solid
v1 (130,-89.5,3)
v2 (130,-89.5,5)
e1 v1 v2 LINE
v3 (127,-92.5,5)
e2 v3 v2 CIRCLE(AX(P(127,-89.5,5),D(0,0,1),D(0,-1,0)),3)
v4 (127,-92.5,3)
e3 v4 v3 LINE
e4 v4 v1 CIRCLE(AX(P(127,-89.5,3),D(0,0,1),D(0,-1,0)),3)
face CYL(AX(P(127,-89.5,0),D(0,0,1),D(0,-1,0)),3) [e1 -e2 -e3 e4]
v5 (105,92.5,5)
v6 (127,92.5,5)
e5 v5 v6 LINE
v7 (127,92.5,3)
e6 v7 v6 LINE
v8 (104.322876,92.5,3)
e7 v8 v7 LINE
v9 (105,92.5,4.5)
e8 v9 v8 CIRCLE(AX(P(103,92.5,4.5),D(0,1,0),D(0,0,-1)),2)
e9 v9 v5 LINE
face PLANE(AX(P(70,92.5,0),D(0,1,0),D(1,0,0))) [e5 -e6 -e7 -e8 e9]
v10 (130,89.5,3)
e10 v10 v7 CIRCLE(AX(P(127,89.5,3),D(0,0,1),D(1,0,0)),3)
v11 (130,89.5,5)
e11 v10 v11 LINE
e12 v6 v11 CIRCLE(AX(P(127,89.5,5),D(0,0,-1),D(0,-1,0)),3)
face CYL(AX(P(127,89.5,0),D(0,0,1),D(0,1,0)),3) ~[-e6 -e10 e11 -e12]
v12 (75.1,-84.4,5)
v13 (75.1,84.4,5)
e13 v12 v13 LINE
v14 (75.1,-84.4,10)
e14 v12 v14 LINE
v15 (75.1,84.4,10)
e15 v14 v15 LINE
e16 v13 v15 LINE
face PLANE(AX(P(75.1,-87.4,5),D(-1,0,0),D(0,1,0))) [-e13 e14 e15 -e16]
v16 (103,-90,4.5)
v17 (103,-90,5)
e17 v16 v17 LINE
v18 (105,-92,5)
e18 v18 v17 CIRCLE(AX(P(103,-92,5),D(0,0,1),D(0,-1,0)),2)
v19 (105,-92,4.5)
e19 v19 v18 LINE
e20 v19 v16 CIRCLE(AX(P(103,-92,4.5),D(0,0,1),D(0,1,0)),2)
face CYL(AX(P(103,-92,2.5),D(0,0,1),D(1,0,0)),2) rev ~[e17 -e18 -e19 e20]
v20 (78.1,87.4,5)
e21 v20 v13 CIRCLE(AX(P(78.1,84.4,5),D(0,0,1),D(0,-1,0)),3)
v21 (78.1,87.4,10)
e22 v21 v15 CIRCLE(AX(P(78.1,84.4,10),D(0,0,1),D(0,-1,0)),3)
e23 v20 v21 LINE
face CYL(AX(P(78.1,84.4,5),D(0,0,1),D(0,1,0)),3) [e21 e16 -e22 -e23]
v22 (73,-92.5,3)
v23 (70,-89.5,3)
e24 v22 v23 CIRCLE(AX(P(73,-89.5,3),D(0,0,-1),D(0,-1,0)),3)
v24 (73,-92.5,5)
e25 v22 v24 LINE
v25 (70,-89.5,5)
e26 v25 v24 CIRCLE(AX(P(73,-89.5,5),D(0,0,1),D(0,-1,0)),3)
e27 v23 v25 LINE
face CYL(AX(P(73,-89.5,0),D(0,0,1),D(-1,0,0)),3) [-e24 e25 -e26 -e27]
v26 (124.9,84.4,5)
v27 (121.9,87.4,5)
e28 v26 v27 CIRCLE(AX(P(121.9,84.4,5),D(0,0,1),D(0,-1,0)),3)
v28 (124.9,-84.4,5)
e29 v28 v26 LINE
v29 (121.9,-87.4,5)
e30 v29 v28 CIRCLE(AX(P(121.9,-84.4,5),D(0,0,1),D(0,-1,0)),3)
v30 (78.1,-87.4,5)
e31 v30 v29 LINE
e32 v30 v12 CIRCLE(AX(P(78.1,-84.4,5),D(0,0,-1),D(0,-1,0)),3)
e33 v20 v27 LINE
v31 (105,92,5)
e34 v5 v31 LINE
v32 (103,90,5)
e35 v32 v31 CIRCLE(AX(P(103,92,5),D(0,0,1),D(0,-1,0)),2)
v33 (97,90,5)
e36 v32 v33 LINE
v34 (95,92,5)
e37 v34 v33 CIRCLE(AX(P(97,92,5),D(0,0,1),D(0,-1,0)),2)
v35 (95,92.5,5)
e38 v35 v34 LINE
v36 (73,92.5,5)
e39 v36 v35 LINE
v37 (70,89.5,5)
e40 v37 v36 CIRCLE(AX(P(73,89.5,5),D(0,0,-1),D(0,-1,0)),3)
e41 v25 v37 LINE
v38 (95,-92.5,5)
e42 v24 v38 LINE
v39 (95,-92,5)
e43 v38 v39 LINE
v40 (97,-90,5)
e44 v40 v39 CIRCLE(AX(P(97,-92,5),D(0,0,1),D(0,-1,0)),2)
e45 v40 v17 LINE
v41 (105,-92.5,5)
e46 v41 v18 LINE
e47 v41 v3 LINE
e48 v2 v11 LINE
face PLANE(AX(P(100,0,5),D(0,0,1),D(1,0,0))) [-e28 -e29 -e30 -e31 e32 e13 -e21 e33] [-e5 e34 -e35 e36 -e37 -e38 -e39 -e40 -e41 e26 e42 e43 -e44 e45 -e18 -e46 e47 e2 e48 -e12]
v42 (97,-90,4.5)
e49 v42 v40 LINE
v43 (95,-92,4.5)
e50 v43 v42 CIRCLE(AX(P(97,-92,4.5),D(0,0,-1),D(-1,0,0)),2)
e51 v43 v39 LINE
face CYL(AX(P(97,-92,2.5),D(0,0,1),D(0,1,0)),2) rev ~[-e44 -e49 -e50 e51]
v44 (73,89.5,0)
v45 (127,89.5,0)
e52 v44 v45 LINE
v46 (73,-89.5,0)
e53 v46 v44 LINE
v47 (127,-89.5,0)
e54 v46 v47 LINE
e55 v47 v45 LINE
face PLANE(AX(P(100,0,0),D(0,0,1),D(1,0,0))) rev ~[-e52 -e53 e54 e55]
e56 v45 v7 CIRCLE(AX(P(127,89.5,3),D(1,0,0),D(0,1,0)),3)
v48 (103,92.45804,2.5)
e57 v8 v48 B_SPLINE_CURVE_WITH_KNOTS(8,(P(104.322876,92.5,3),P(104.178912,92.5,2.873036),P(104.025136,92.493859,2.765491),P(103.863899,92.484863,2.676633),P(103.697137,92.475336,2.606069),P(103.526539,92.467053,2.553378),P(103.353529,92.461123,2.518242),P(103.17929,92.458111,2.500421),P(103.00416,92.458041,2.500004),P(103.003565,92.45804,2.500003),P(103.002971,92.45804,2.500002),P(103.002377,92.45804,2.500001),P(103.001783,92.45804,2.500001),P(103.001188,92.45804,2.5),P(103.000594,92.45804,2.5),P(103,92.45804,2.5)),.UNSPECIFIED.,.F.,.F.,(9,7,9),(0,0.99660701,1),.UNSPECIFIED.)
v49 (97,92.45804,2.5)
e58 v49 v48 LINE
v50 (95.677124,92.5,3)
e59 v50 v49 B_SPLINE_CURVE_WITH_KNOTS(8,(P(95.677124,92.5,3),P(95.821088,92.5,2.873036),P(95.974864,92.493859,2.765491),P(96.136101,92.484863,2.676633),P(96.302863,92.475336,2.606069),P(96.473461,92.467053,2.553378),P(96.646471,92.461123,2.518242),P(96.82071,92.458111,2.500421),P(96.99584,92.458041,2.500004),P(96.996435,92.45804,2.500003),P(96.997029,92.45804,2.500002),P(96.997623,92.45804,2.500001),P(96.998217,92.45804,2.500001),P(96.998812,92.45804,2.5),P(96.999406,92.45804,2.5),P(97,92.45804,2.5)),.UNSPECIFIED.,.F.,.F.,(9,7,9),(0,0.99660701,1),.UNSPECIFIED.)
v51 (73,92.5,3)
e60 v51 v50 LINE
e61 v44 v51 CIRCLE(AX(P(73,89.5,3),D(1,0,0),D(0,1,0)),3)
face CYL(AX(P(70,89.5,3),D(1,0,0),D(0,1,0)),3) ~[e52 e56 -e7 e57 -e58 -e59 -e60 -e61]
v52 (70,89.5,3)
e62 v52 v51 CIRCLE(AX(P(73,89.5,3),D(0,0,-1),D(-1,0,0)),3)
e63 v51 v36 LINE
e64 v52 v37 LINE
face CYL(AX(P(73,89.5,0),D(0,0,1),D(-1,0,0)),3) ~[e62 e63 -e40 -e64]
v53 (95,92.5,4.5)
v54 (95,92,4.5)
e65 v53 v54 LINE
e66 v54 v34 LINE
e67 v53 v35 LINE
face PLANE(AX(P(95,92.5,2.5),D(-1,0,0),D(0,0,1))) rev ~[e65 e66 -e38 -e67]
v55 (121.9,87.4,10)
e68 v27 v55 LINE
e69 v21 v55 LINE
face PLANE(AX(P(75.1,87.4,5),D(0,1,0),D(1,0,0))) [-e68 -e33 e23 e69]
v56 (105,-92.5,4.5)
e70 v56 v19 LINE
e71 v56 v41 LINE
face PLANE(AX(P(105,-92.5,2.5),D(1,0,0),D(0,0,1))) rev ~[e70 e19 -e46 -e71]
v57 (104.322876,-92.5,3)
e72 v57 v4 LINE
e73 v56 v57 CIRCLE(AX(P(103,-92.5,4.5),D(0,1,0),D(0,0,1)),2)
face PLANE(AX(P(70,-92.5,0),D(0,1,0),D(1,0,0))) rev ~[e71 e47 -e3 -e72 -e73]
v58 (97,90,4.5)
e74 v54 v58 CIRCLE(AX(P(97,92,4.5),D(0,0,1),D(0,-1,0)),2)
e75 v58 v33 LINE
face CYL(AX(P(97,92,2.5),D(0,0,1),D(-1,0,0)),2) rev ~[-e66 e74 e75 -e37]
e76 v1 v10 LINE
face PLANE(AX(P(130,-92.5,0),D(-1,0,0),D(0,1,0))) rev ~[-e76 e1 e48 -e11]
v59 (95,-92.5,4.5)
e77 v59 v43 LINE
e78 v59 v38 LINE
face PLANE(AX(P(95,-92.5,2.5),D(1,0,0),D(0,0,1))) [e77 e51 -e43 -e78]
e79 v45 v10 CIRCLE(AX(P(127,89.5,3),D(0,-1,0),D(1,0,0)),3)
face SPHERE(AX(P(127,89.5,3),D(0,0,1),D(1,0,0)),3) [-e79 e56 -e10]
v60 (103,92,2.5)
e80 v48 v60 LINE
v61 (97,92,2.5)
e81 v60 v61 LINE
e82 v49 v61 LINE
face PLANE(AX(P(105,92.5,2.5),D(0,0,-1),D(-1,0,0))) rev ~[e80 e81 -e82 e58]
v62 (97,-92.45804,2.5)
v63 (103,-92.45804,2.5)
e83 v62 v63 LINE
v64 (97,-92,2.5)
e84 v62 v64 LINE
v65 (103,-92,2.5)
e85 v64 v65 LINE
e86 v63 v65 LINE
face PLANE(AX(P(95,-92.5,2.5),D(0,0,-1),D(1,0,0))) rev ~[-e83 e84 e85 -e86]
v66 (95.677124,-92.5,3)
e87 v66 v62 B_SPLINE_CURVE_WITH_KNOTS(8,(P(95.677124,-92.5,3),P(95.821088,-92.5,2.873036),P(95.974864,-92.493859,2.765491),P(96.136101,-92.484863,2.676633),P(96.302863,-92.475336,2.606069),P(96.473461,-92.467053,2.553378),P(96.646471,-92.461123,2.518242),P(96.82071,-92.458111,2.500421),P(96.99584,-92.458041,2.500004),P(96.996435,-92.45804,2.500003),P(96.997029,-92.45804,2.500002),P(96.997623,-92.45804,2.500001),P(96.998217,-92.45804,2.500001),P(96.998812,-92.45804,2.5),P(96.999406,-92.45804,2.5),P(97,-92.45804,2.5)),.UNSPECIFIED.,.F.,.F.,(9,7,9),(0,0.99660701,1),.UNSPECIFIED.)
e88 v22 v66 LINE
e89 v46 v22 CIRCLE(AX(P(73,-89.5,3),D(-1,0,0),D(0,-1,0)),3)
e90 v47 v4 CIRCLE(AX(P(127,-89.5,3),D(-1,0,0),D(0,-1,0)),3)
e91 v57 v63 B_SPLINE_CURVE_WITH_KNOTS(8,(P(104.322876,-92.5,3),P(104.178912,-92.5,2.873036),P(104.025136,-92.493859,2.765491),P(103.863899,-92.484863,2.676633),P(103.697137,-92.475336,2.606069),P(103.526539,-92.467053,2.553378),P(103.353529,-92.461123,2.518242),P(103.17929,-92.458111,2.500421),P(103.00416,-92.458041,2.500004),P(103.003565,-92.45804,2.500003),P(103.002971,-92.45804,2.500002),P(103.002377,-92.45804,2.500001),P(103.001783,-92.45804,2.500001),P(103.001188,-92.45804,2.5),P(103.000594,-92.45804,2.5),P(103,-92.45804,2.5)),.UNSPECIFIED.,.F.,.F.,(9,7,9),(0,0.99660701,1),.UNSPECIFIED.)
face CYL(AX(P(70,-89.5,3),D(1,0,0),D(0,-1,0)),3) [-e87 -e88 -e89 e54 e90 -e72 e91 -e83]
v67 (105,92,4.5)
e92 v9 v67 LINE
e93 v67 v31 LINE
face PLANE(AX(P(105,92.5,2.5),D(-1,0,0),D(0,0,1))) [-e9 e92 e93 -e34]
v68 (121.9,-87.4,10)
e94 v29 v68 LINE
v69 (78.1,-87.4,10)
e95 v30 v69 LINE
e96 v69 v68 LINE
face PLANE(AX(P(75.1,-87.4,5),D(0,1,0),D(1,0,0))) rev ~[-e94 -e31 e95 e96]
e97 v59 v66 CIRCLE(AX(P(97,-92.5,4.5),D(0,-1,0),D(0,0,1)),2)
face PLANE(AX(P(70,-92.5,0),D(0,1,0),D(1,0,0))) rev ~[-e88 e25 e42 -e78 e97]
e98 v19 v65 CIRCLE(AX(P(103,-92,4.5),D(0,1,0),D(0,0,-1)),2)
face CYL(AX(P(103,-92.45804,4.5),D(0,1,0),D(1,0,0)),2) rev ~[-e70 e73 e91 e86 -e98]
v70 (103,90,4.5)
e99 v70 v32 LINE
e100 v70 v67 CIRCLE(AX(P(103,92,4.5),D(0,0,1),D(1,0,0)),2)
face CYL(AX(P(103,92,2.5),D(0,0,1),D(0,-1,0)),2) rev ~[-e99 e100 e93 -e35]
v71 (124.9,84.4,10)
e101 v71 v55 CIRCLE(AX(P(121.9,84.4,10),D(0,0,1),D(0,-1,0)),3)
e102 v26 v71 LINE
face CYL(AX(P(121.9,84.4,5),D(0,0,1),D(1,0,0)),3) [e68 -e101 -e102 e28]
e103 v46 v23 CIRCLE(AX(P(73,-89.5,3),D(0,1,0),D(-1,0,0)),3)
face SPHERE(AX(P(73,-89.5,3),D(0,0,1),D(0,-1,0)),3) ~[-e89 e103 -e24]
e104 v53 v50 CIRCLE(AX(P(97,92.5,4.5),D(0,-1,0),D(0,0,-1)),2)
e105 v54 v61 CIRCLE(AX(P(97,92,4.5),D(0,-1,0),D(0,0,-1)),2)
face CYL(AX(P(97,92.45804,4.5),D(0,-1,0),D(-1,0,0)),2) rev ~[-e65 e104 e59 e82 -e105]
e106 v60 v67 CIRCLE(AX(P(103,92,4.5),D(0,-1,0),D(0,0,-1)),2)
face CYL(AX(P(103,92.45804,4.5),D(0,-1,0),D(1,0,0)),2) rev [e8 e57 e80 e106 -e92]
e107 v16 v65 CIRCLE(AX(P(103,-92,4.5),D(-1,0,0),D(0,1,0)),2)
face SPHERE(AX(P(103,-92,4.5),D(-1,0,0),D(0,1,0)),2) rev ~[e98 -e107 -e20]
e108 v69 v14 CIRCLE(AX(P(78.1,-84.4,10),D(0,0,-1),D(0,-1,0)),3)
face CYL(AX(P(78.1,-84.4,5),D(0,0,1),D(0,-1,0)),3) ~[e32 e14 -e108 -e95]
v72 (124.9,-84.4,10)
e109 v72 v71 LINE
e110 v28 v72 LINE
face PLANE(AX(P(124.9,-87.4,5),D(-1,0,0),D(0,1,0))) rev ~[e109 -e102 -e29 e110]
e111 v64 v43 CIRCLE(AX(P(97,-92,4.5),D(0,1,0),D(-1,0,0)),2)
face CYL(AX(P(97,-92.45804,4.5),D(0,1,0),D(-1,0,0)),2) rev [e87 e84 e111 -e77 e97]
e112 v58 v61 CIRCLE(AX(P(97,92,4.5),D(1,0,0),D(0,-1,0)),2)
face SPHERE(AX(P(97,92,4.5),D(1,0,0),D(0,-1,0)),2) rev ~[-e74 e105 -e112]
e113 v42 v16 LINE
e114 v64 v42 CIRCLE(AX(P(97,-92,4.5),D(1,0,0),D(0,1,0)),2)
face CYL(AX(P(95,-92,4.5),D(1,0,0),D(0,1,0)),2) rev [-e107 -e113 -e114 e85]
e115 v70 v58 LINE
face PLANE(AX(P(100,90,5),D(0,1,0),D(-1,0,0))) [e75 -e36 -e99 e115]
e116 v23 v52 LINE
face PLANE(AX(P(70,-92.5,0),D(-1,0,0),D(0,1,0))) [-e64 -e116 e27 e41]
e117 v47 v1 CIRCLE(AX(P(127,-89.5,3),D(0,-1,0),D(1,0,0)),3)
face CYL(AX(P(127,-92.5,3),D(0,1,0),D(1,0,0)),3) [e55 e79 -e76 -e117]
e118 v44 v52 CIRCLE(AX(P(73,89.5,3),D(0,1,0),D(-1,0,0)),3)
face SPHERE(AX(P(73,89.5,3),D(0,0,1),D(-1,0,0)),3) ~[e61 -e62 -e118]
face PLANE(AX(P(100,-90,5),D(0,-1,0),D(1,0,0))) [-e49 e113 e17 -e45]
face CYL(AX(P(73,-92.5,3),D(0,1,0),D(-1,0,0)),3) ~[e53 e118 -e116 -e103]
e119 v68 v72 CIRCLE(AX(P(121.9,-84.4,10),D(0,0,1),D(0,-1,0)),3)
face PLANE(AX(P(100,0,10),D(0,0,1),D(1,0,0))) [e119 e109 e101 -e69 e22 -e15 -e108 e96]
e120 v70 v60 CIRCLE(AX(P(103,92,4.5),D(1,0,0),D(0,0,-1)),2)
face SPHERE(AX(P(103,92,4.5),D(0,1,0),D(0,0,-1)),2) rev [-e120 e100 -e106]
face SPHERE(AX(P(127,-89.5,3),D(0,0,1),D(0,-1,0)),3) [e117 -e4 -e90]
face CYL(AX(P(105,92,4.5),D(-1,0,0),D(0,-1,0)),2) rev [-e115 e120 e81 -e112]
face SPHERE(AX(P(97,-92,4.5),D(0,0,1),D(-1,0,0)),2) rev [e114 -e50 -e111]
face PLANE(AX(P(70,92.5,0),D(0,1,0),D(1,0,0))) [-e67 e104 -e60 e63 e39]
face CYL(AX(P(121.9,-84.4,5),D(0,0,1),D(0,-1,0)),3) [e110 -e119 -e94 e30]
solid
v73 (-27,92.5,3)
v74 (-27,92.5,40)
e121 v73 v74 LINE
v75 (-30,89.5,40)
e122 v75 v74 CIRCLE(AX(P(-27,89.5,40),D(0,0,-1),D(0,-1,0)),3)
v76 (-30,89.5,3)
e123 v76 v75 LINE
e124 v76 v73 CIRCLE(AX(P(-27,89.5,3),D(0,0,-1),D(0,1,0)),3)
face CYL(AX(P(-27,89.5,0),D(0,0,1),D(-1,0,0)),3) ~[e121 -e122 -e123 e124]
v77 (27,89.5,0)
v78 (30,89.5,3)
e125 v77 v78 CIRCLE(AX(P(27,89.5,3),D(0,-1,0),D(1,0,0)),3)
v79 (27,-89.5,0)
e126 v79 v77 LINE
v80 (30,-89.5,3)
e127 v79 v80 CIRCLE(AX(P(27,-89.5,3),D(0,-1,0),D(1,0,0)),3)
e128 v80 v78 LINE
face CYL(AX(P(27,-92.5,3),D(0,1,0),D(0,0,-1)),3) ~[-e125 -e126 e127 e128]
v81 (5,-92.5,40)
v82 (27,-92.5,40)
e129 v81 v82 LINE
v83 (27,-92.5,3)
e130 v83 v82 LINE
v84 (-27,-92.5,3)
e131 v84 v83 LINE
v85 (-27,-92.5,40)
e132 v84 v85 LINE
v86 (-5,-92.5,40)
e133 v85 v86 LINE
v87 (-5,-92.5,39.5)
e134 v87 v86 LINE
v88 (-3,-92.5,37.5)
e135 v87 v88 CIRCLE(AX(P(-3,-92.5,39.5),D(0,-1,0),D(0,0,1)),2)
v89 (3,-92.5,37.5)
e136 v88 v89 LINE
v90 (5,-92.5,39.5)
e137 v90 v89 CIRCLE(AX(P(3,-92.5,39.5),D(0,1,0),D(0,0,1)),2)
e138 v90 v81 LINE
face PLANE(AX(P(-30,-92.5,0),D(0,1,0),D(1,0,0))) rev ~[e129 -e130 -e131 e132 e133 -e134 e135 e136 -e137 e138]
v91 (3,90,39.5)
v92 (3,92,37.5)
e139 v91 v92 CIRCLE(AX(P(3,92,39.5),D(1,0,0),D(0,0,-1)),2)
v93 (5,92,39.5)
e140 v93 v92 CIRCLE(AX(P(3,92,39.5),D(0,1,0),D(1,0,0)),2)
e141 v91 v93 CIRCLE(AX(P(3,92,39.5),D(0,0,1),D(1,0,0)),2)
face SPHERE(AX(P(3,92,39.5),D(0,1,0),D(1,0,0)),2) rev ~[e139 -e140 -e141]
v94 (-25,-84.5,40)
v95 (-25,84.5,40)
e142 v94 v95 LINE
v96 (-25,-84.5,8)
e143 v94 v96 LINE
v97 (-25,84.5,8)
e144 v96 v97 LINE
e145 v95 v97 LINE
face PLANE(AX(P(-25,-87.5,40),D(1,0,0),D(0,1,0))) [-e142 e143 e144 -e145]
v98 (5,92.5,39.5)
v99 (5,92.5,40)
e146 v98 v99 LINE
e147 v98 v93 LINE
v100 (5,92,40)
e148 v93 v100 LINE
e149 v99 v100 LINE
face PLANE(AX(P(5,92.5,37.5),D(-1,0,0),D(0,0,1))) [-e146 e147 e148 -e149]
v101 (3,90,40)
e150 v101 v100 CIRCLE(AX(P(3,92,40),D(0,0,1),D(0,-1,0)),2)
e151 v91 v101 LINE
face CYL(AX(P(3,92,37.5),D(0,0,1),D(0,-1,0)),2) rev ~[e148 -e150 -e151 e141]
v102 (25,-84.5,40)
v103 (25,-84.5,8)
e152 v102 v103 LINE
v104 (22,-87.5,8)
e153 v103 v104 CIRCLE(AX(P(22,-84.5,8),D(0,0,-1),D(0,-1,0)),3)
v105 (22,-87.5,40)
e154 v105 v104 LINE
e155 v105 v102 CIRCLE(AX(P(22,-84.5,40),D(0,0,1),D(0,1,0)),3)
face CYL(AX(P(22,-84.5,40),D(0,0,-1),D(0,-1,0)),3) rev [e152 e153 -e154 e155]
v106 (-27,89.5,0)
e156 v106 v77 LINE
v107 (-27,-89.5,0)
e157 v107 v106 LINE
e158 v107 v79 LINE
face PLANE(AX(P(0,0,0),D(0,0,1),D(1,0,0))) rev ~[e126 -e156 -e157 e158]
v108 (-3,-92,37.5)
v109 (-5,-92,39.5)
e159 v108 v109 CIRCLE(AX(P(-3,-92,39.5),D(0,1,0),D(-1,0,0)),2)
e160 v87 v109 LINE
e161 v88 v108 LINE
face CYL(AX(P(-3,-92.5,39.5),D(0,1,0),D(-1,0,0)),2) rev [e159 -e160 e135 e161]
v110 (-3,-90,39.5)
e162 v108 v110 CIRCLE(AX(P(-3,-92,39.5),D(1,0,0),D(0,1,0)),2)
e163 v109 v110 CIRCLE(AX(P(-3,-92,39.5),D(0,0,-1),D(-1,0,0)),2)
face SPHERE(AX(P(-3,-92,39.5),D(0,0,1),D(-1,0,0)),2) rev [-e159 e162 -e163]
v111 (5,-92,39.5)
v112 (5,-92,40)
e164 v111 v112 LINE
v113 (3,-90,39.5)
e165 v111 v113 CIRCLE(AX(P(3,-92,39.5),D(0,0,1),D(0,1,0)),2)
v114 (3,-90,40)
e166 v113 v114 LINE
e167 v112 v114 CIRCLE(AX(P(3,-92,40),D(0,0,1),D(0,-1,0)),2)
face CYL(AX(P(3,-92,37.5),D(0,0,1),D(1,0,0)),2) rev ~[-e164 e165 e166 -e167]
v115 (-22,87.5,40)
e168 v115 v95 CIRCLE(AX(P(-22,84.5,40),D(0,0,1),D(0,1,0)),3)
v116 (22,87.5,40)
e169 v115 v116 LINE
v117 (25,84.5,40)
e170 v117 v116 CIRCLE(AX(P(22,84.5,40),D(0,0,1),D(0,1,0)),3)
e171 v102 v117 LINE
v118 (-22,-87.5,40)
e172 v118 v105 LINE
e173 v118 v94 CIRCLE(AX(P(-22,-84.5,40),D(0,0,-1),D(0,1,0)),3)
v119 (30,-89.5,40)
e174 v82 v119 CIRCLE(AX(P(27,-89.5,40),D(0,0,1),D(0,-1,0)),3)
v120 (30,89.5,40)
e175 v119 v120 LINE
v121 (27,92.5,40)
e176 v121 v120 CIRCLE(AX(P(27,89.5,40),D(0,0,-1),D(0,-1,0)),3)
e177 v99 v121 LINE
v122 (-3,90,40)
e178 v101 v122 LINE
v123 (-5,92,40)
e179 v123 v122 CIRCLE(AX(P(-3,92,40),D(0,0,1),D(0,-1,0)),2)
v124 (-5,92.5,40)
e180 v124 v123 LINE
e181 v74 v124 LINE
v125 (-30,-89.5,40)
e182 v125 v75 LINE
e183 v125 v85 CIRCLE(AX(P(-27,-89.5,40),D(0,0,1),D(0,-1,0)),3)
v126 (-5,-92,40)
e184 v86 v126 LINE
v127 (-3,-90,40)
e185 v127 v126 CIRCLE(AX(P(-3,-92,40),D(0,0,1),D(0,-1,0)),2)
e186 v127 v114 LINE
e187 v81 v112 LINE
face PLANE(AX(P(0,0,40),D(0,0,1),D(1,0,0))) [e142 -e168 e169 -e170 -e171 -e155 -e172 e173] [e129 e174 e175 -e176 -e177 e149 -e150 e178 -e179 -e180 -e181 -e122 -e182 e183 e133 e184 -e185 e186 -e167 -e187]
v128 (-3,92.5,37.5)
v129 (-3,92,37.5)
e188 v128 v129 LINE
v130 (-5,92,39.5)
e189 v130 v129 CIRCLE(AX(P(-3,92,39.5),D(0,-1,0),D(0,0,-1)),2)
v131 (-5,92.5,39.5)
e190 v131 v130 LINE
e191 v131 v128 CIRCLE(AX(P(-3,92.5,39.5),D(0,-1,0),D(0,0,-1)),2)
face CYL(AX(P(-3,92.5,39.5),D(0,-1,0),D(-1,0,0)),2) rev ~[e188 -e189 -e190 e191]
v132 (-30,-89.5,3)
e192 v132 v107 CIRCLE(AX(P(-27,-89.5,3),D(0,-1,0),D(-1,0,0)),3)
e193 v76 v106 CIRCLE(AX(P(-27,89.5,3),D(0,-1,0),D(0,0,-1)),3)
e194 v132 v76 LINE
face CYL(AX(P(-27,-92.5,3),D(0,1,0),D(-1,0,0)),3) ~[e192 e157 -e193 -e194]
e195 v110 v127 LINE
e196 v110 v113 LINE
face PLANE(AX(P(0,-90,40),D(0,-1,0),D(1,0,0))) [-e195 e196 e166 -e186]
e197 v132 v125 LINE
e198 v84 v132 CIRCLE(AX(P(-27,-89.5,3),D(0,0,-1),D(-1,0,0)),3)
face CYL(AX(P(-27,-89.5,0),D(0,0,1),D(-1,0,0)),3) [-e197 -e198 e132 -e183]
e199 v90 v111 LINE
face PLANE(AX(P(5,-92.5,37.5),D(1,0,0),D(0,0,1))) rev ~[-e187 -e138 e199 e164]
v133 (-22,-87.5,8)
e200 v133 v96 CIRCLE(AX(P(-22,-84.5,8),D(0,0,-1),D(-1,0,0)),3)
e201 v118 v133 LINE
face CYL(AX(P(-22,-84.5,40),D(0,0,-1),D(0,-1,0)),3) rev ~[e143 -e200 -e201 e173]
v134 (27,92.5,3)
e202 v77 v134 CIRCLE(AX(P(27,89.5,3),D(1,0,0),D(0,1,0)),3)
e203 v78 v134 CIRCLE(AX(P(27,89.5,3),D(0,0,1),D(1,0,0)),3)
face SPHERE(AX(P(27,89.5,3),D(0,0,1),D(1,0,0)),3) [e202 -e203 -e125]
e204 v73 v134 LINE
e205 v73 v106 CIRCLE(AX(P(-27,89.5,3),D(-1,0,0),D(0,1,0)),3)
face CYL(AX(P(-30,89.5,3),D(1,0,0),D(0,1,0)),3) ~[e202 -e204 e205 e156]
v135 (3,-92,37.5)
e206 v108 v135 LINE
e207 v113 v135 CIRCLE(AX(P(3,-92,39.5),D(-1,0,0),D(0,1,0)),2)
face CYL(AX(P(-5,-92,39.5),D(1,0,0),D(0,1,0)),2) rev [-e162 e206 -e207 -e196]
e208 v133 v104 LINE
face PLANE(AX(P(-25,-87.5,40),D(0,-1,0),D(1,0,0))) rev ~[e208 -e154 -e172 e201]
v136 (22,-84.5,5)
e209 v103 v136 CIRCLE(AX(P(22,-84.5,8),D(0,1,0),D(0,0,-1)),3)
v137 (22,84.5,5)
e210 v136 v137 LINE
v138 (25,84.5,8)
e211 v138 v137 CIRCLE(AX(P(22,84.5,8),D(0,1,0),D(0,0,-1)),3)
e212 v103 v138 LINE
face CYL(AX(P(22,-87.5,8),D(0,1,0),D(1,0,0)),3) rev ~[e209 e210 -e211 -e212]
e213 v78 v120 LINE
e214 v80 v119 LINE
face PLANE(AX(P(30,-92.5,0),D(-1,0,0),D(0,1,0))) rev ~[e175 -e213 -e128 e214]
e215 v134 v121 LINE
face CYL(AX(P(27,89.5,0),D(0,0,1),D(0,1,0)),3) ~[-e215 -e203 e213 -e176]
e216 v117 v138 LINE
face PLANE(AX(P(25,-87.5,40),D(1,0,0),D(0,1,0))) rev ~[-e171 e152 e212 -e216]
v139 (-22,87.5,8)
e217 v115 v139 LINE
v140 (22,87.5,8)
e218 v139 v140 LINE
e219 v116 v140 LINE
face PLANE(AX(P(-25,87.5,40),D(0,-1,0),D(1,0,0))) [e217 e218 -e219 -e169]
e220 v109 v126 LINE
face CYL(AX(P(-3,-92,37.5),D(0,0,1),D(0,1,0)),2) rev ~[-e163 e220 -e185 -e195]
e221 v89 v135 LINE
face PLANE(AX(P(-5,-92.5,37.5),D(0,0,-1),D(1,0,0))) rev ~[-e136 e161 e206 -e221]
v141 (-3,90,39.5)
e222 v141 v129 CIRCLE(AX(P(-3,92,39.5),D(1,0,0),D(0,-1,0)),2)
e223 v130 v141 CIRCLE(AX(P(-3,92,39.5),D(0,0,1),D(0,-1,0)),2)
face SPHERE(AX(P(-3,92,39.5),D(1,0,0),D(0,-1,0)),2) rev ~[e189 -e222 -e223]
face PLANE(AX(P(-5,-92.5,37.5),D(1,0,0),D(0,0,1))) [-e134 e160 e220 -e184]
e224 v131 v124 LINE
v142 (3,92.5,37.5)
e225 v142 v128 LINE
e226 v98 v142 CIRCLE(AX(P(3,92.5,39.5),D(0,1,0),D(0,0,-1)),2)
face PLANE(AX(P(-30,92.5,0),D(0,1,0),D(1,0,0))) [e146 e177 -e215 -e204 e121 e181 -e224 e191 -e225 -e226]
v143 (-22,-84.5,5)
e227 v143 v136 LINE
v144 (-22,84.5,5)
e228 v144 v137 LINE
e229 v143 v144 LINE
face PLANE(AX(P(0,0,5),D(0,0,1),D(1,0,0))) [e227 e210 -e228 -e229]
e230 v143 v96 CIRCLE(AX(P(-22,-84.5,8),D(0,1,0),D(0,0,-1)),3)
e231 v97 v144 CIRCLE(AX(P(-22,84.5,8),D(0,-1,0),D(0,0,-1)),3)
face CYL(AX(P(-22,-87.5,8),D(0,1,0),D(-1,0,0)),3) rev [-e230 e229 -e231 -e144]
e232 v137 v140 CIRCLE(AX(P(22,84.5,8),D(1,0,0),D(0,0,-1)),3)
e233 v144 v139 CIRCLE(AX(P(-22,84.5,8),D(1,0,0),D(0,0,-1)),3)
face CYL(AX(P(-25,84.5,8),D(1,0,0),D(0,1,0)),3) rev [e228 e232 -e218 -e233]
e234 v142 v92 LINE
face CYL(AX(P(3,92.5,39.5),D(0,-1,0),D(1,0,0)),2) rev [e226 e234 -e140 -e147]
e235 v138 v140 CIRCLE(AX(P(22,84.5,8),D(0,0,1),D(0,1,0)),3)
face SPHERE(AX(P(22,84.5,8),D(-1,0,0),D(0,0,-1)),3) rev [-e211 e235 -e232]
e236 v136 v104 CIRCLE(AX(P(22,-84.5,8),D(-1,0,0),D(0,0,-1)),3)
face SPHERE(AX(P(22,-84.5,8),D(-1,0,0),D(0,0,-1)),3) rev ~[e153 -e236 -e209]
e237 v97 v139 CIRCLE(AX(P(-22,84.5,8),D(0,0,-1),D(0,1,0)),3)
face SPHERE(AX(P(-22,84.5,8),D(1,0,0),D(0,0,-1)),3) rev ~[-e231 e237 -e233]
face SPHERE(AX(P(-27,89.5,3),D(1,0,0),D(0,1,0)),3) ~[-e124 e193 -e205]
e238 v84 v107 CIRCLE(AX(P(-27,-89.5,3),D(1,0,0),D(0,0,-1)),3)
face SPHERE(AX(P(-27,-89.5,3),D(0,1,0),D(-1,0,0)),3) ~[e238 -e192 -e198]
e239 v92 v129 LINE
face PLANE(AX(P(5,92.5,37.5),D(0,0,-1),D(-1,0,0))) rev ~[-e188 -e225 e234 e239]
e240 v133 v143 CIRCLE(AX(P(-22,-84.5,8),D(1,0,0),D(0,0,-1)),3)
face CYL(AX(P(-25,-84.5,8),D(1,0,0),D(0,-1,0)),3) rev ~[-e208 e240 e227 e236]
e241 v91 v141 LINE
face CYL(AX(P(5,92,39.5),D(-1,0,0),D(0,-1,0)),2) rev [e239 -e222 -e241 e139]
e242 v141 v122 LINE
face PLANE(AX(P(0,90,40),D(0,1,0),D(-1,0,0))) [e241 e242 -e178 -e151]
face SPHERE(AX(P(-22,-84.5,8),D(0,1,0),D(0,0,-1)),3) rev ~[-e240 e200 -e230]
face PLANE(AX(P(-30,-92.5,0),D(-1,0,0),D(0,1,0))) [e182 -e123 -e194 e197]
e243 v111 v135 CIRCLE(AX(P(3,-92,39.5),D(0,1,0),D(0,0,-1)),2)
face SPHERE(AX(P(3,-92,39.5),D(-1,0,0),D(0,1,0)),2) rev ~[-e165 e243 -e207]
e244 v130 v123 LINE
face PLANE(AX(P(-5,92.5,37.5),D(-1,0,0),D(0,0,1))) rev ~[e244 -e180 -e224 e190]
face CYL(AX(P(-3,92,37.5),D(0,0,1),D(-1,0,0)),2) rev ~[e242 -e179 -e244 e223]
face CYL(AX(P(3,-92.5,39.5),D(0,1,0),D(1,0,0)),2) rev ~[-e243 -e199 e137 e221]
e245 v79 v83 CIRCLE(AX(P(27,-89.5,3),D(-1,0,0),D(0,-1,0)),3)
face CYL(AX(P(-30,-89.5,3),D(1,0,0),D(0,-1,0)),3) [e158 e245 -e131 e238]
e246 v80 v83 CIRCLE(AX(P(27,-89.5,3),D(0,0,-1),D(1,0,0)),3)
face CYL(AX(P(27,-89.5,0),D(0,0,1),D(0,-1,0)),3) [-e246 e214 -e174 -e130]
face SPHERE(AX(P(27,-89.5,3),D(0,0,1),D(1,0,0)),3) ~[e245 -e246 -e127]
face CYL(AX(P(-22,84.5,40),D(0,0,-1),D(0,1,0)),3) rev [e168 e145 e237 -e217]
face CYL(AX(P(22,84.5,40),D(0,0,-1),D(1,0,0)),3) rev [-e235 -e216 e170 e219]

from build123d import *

# Parameters (mm, degrees)
SKETCH001_W     = 60
SKETCH001_H     = 185
PAD_DEPTH       = 40
SKETCH_W        = 50
SKETCH_H        = 175
POCKET_DEPTH    = 35
FILLET_R        = 3
FILLET001_R     = 3
SKETCH002_W     = 10
SKETCH002_H     = 5
POCKET001_DEPTH = 2.5
FILLET002_R     = 2
SKETCH003_W     = 10
SKETCH003_H     = 5
POCKET002_DEPTH = 2.5
FILLET003_R     = 2
SKETCH004_W     = 60
SKETCH004_H     = 185
PAD001_DEPTH    = 5
SKETCH005_W     = 49.8
SKETCH005_H     = 174.8
PAD002_DEPTH    = 5
FILLET004_R     = 3
FILLET005_R     = 3
SKETCH006_W     = 10
SKETCH006_H     = 5
POCKET003_DEPTH = 2.5
FILLET006_R     = 2
SKETCH007_W     = 10
SKETCH007_H     = 5
POCKET004_DEPTH = 2.5
FILLET007_R     = 2


with BuildPart() as box:
    # Sketch001 → Pad (new body)
    with BuildSketch(Plane.XY):
        Rectangle(SKETCH001_W, SKETCH001_H)
    extrude(amount=PAD_DEPTH)

    # Sketch (on Face6 of Pad) → Pocket (cut)
    with BuildSketch(Plane.XY.offset(40)):
        Rectangle(SKETCH_W, SKETCH_H)
    extrude(amount=-POCKET_DEPTH, mode=Mode.SUBTRACT)

    # Fillet
    fillet_edges = [box.edges().sort_by_distance(p)[0] for p in [
        (30, -92.5, 20),
        (30, 92.5, 20),
        (30, 0, 0),
        (0, 92.5, 0),
        (-30, 92.5, 20),
        (-30, 0, 0),
        (-30, -92.5, 20),
        (0, -92.5, 0),
    ]]
    fillet(fillet_edges, radius=FILLET_R)

    # Fillet001
    fillet001_edges = [box.edges().sort_by_distance(p)[0] for p in [
        (0, 87.5, 5),
        (-25, 0, 5),
        (0, -87.5, 5),
        (25, 0, 5),
        (-25, 87.5, 22.5),
        (25, 87.5, 22.5),
        (-25, -87.5, 22.5),
        (25, -87.5, 22.5),
    ]]
    fillet(fillet001_edges, radius=FILLET001_R)

    # Sketch002 (on Face14 of Fillet001) → Pocket001 (cut)
    with BuildSketch(Plane.XZ.offset(92.5)):
        with Locations((0, 40)):
            Rectangle(SKETCH002_W, SKETCH002_H)
    extrude(amount=-POCKET001_DEPTH, mode=Mode.SUBTRACT)

    # Fillet002
    fillet002_edges = [box.edges().sort_by_distance(p)[0] for p in [
        (-5, -90, 38.75),
        (-5, -91.25, 37.5),
        (0, -90, 37.5),
        (5, -90, 38.75),
        (5, -91.25, 37.5),
    ]]
    fillet(fillet002_edges, radius=FILLET002_R)

    # Sketch003 (on Face11 of Fillet002) → Pocket002 (cut)
    with BuildSketch(Plane(origin=(0, 92.5, 0), x_dir=(-1, 0, 0), z_dir=(0, 1, 0))):
        with Locations((0, 40)):
            Rectangle(SKETCH003_W, SKETCH003_H)
    extrude(amount=-POCKET002_DEPTH, mode=Mode.SUBTRACT)

    # Fillet003
    fillet003_edges = [box.edges().sort_by_distance(p)[0] for p in [
        (5, 91.25, 37.5),
        (5, 90, 38.75),
        (0, 90, 37.5),
        (-5, 90, 38.75),
        (-5, 91.25, 37.5),
    ]]
    fillet(fillet003_edges, radius=FILLET003_R)


with BuildPart() as lid:
    # Sketch004 → Pad001 (new body)
    with BuildSketch(Plane.XY):
        with Locations((100, 0)):
            Rectangle(SKETCH004_W, SKETCH004_H)
    extrude(amount=PAD001_DEPTH)

    # Sketch005 (on Face6 of Pad001) → Pad002 (join)
    with BuildSketch(Plane.XY.offset(5)):
        with Locations((100, 0)):
            Rectangle(SKETCH005_W, SKETCH005_H)
    extrude(amount=PAD002_DEPTH)

    # Fillet004
    fillet004_edges = [lid.edges().sort_by_distance(p)[0] for p in [
        (75.1, -87.4, 7.5),
        (124.9, -87.4, 7.5),
        (124.9, 87.4, 7.5),
        (75.1, 87.4, 7.5),
    ]]
    fillet(fillet004_edges, radius=FILLET004_R)

    # Fillet005
    fillet005_edges = [lid.edges().sort_by_distance(p)[0] for p in [
        (130, 92.5, 2.5),
        (70, 92.5, 2.5),
        (70, -92.5, 2.5),
        (130, -92.5, 2.5),
        (100, -92.5, 0),
        (70, 0, 0),
        (130, 0, 0),
        (100, 92.5, 0),
    ]]
    fillet(fillet005_edges, radius=FILLET005_R)

    # Sketch006 (on Face5 of Fillet005) → Pocket003 (cut)
    with BuildSketch(Plane(origin=(0, 92.5, 0), x_dir=(-1, 0, 0), z_dir=(0, 1, 0))):
        with Locations((-100, 5)):
            Rectangle(SKETCH006_W, SKETCH006_H)
    extrude(amount=-POCKET003_DEPTH, mode=Mode.SUBTRACT)

    # Fillet006
    fillet006_edges = [lid.edges().sort_by_distance(p)[0] for p in [
        (105, 91.22902, 2.5),
        (100, 90, 2.5),
        (105, 90, 3.75),
        (95, 90, 3.75),
        (95, 91.22902, 2.5),
    ]]
    fillet(fillet006_edges, radius=FILLET006_R)

    # Sketch007 (on Face12 of Fillet006) → Pocket004 (cut)
    with BuildSketch(Plane.XZ.offset(92.5)):
        with Locations((100, 5)):
            Rectangle(SKETCH007_W, SKETCH007_H)
    extrude(amount=-POCKET004_DEPTH, mode=Mode.SUBTRACT)

    # Fillet007
    fillet007_edges = [lid.edges().sort_by_distance(p)[0] for p in [
        (95, -90, 3.75),
        (95, -91.22902, 2.5),
        (100, -90, 2.5),
        (105, -90, 3.75),
        (105, -91.22902, 2.5),
    ]]
    fillet(fillet007_edges, radius=FILLET007_R)


solid = Compound([box.part, lid.part])
